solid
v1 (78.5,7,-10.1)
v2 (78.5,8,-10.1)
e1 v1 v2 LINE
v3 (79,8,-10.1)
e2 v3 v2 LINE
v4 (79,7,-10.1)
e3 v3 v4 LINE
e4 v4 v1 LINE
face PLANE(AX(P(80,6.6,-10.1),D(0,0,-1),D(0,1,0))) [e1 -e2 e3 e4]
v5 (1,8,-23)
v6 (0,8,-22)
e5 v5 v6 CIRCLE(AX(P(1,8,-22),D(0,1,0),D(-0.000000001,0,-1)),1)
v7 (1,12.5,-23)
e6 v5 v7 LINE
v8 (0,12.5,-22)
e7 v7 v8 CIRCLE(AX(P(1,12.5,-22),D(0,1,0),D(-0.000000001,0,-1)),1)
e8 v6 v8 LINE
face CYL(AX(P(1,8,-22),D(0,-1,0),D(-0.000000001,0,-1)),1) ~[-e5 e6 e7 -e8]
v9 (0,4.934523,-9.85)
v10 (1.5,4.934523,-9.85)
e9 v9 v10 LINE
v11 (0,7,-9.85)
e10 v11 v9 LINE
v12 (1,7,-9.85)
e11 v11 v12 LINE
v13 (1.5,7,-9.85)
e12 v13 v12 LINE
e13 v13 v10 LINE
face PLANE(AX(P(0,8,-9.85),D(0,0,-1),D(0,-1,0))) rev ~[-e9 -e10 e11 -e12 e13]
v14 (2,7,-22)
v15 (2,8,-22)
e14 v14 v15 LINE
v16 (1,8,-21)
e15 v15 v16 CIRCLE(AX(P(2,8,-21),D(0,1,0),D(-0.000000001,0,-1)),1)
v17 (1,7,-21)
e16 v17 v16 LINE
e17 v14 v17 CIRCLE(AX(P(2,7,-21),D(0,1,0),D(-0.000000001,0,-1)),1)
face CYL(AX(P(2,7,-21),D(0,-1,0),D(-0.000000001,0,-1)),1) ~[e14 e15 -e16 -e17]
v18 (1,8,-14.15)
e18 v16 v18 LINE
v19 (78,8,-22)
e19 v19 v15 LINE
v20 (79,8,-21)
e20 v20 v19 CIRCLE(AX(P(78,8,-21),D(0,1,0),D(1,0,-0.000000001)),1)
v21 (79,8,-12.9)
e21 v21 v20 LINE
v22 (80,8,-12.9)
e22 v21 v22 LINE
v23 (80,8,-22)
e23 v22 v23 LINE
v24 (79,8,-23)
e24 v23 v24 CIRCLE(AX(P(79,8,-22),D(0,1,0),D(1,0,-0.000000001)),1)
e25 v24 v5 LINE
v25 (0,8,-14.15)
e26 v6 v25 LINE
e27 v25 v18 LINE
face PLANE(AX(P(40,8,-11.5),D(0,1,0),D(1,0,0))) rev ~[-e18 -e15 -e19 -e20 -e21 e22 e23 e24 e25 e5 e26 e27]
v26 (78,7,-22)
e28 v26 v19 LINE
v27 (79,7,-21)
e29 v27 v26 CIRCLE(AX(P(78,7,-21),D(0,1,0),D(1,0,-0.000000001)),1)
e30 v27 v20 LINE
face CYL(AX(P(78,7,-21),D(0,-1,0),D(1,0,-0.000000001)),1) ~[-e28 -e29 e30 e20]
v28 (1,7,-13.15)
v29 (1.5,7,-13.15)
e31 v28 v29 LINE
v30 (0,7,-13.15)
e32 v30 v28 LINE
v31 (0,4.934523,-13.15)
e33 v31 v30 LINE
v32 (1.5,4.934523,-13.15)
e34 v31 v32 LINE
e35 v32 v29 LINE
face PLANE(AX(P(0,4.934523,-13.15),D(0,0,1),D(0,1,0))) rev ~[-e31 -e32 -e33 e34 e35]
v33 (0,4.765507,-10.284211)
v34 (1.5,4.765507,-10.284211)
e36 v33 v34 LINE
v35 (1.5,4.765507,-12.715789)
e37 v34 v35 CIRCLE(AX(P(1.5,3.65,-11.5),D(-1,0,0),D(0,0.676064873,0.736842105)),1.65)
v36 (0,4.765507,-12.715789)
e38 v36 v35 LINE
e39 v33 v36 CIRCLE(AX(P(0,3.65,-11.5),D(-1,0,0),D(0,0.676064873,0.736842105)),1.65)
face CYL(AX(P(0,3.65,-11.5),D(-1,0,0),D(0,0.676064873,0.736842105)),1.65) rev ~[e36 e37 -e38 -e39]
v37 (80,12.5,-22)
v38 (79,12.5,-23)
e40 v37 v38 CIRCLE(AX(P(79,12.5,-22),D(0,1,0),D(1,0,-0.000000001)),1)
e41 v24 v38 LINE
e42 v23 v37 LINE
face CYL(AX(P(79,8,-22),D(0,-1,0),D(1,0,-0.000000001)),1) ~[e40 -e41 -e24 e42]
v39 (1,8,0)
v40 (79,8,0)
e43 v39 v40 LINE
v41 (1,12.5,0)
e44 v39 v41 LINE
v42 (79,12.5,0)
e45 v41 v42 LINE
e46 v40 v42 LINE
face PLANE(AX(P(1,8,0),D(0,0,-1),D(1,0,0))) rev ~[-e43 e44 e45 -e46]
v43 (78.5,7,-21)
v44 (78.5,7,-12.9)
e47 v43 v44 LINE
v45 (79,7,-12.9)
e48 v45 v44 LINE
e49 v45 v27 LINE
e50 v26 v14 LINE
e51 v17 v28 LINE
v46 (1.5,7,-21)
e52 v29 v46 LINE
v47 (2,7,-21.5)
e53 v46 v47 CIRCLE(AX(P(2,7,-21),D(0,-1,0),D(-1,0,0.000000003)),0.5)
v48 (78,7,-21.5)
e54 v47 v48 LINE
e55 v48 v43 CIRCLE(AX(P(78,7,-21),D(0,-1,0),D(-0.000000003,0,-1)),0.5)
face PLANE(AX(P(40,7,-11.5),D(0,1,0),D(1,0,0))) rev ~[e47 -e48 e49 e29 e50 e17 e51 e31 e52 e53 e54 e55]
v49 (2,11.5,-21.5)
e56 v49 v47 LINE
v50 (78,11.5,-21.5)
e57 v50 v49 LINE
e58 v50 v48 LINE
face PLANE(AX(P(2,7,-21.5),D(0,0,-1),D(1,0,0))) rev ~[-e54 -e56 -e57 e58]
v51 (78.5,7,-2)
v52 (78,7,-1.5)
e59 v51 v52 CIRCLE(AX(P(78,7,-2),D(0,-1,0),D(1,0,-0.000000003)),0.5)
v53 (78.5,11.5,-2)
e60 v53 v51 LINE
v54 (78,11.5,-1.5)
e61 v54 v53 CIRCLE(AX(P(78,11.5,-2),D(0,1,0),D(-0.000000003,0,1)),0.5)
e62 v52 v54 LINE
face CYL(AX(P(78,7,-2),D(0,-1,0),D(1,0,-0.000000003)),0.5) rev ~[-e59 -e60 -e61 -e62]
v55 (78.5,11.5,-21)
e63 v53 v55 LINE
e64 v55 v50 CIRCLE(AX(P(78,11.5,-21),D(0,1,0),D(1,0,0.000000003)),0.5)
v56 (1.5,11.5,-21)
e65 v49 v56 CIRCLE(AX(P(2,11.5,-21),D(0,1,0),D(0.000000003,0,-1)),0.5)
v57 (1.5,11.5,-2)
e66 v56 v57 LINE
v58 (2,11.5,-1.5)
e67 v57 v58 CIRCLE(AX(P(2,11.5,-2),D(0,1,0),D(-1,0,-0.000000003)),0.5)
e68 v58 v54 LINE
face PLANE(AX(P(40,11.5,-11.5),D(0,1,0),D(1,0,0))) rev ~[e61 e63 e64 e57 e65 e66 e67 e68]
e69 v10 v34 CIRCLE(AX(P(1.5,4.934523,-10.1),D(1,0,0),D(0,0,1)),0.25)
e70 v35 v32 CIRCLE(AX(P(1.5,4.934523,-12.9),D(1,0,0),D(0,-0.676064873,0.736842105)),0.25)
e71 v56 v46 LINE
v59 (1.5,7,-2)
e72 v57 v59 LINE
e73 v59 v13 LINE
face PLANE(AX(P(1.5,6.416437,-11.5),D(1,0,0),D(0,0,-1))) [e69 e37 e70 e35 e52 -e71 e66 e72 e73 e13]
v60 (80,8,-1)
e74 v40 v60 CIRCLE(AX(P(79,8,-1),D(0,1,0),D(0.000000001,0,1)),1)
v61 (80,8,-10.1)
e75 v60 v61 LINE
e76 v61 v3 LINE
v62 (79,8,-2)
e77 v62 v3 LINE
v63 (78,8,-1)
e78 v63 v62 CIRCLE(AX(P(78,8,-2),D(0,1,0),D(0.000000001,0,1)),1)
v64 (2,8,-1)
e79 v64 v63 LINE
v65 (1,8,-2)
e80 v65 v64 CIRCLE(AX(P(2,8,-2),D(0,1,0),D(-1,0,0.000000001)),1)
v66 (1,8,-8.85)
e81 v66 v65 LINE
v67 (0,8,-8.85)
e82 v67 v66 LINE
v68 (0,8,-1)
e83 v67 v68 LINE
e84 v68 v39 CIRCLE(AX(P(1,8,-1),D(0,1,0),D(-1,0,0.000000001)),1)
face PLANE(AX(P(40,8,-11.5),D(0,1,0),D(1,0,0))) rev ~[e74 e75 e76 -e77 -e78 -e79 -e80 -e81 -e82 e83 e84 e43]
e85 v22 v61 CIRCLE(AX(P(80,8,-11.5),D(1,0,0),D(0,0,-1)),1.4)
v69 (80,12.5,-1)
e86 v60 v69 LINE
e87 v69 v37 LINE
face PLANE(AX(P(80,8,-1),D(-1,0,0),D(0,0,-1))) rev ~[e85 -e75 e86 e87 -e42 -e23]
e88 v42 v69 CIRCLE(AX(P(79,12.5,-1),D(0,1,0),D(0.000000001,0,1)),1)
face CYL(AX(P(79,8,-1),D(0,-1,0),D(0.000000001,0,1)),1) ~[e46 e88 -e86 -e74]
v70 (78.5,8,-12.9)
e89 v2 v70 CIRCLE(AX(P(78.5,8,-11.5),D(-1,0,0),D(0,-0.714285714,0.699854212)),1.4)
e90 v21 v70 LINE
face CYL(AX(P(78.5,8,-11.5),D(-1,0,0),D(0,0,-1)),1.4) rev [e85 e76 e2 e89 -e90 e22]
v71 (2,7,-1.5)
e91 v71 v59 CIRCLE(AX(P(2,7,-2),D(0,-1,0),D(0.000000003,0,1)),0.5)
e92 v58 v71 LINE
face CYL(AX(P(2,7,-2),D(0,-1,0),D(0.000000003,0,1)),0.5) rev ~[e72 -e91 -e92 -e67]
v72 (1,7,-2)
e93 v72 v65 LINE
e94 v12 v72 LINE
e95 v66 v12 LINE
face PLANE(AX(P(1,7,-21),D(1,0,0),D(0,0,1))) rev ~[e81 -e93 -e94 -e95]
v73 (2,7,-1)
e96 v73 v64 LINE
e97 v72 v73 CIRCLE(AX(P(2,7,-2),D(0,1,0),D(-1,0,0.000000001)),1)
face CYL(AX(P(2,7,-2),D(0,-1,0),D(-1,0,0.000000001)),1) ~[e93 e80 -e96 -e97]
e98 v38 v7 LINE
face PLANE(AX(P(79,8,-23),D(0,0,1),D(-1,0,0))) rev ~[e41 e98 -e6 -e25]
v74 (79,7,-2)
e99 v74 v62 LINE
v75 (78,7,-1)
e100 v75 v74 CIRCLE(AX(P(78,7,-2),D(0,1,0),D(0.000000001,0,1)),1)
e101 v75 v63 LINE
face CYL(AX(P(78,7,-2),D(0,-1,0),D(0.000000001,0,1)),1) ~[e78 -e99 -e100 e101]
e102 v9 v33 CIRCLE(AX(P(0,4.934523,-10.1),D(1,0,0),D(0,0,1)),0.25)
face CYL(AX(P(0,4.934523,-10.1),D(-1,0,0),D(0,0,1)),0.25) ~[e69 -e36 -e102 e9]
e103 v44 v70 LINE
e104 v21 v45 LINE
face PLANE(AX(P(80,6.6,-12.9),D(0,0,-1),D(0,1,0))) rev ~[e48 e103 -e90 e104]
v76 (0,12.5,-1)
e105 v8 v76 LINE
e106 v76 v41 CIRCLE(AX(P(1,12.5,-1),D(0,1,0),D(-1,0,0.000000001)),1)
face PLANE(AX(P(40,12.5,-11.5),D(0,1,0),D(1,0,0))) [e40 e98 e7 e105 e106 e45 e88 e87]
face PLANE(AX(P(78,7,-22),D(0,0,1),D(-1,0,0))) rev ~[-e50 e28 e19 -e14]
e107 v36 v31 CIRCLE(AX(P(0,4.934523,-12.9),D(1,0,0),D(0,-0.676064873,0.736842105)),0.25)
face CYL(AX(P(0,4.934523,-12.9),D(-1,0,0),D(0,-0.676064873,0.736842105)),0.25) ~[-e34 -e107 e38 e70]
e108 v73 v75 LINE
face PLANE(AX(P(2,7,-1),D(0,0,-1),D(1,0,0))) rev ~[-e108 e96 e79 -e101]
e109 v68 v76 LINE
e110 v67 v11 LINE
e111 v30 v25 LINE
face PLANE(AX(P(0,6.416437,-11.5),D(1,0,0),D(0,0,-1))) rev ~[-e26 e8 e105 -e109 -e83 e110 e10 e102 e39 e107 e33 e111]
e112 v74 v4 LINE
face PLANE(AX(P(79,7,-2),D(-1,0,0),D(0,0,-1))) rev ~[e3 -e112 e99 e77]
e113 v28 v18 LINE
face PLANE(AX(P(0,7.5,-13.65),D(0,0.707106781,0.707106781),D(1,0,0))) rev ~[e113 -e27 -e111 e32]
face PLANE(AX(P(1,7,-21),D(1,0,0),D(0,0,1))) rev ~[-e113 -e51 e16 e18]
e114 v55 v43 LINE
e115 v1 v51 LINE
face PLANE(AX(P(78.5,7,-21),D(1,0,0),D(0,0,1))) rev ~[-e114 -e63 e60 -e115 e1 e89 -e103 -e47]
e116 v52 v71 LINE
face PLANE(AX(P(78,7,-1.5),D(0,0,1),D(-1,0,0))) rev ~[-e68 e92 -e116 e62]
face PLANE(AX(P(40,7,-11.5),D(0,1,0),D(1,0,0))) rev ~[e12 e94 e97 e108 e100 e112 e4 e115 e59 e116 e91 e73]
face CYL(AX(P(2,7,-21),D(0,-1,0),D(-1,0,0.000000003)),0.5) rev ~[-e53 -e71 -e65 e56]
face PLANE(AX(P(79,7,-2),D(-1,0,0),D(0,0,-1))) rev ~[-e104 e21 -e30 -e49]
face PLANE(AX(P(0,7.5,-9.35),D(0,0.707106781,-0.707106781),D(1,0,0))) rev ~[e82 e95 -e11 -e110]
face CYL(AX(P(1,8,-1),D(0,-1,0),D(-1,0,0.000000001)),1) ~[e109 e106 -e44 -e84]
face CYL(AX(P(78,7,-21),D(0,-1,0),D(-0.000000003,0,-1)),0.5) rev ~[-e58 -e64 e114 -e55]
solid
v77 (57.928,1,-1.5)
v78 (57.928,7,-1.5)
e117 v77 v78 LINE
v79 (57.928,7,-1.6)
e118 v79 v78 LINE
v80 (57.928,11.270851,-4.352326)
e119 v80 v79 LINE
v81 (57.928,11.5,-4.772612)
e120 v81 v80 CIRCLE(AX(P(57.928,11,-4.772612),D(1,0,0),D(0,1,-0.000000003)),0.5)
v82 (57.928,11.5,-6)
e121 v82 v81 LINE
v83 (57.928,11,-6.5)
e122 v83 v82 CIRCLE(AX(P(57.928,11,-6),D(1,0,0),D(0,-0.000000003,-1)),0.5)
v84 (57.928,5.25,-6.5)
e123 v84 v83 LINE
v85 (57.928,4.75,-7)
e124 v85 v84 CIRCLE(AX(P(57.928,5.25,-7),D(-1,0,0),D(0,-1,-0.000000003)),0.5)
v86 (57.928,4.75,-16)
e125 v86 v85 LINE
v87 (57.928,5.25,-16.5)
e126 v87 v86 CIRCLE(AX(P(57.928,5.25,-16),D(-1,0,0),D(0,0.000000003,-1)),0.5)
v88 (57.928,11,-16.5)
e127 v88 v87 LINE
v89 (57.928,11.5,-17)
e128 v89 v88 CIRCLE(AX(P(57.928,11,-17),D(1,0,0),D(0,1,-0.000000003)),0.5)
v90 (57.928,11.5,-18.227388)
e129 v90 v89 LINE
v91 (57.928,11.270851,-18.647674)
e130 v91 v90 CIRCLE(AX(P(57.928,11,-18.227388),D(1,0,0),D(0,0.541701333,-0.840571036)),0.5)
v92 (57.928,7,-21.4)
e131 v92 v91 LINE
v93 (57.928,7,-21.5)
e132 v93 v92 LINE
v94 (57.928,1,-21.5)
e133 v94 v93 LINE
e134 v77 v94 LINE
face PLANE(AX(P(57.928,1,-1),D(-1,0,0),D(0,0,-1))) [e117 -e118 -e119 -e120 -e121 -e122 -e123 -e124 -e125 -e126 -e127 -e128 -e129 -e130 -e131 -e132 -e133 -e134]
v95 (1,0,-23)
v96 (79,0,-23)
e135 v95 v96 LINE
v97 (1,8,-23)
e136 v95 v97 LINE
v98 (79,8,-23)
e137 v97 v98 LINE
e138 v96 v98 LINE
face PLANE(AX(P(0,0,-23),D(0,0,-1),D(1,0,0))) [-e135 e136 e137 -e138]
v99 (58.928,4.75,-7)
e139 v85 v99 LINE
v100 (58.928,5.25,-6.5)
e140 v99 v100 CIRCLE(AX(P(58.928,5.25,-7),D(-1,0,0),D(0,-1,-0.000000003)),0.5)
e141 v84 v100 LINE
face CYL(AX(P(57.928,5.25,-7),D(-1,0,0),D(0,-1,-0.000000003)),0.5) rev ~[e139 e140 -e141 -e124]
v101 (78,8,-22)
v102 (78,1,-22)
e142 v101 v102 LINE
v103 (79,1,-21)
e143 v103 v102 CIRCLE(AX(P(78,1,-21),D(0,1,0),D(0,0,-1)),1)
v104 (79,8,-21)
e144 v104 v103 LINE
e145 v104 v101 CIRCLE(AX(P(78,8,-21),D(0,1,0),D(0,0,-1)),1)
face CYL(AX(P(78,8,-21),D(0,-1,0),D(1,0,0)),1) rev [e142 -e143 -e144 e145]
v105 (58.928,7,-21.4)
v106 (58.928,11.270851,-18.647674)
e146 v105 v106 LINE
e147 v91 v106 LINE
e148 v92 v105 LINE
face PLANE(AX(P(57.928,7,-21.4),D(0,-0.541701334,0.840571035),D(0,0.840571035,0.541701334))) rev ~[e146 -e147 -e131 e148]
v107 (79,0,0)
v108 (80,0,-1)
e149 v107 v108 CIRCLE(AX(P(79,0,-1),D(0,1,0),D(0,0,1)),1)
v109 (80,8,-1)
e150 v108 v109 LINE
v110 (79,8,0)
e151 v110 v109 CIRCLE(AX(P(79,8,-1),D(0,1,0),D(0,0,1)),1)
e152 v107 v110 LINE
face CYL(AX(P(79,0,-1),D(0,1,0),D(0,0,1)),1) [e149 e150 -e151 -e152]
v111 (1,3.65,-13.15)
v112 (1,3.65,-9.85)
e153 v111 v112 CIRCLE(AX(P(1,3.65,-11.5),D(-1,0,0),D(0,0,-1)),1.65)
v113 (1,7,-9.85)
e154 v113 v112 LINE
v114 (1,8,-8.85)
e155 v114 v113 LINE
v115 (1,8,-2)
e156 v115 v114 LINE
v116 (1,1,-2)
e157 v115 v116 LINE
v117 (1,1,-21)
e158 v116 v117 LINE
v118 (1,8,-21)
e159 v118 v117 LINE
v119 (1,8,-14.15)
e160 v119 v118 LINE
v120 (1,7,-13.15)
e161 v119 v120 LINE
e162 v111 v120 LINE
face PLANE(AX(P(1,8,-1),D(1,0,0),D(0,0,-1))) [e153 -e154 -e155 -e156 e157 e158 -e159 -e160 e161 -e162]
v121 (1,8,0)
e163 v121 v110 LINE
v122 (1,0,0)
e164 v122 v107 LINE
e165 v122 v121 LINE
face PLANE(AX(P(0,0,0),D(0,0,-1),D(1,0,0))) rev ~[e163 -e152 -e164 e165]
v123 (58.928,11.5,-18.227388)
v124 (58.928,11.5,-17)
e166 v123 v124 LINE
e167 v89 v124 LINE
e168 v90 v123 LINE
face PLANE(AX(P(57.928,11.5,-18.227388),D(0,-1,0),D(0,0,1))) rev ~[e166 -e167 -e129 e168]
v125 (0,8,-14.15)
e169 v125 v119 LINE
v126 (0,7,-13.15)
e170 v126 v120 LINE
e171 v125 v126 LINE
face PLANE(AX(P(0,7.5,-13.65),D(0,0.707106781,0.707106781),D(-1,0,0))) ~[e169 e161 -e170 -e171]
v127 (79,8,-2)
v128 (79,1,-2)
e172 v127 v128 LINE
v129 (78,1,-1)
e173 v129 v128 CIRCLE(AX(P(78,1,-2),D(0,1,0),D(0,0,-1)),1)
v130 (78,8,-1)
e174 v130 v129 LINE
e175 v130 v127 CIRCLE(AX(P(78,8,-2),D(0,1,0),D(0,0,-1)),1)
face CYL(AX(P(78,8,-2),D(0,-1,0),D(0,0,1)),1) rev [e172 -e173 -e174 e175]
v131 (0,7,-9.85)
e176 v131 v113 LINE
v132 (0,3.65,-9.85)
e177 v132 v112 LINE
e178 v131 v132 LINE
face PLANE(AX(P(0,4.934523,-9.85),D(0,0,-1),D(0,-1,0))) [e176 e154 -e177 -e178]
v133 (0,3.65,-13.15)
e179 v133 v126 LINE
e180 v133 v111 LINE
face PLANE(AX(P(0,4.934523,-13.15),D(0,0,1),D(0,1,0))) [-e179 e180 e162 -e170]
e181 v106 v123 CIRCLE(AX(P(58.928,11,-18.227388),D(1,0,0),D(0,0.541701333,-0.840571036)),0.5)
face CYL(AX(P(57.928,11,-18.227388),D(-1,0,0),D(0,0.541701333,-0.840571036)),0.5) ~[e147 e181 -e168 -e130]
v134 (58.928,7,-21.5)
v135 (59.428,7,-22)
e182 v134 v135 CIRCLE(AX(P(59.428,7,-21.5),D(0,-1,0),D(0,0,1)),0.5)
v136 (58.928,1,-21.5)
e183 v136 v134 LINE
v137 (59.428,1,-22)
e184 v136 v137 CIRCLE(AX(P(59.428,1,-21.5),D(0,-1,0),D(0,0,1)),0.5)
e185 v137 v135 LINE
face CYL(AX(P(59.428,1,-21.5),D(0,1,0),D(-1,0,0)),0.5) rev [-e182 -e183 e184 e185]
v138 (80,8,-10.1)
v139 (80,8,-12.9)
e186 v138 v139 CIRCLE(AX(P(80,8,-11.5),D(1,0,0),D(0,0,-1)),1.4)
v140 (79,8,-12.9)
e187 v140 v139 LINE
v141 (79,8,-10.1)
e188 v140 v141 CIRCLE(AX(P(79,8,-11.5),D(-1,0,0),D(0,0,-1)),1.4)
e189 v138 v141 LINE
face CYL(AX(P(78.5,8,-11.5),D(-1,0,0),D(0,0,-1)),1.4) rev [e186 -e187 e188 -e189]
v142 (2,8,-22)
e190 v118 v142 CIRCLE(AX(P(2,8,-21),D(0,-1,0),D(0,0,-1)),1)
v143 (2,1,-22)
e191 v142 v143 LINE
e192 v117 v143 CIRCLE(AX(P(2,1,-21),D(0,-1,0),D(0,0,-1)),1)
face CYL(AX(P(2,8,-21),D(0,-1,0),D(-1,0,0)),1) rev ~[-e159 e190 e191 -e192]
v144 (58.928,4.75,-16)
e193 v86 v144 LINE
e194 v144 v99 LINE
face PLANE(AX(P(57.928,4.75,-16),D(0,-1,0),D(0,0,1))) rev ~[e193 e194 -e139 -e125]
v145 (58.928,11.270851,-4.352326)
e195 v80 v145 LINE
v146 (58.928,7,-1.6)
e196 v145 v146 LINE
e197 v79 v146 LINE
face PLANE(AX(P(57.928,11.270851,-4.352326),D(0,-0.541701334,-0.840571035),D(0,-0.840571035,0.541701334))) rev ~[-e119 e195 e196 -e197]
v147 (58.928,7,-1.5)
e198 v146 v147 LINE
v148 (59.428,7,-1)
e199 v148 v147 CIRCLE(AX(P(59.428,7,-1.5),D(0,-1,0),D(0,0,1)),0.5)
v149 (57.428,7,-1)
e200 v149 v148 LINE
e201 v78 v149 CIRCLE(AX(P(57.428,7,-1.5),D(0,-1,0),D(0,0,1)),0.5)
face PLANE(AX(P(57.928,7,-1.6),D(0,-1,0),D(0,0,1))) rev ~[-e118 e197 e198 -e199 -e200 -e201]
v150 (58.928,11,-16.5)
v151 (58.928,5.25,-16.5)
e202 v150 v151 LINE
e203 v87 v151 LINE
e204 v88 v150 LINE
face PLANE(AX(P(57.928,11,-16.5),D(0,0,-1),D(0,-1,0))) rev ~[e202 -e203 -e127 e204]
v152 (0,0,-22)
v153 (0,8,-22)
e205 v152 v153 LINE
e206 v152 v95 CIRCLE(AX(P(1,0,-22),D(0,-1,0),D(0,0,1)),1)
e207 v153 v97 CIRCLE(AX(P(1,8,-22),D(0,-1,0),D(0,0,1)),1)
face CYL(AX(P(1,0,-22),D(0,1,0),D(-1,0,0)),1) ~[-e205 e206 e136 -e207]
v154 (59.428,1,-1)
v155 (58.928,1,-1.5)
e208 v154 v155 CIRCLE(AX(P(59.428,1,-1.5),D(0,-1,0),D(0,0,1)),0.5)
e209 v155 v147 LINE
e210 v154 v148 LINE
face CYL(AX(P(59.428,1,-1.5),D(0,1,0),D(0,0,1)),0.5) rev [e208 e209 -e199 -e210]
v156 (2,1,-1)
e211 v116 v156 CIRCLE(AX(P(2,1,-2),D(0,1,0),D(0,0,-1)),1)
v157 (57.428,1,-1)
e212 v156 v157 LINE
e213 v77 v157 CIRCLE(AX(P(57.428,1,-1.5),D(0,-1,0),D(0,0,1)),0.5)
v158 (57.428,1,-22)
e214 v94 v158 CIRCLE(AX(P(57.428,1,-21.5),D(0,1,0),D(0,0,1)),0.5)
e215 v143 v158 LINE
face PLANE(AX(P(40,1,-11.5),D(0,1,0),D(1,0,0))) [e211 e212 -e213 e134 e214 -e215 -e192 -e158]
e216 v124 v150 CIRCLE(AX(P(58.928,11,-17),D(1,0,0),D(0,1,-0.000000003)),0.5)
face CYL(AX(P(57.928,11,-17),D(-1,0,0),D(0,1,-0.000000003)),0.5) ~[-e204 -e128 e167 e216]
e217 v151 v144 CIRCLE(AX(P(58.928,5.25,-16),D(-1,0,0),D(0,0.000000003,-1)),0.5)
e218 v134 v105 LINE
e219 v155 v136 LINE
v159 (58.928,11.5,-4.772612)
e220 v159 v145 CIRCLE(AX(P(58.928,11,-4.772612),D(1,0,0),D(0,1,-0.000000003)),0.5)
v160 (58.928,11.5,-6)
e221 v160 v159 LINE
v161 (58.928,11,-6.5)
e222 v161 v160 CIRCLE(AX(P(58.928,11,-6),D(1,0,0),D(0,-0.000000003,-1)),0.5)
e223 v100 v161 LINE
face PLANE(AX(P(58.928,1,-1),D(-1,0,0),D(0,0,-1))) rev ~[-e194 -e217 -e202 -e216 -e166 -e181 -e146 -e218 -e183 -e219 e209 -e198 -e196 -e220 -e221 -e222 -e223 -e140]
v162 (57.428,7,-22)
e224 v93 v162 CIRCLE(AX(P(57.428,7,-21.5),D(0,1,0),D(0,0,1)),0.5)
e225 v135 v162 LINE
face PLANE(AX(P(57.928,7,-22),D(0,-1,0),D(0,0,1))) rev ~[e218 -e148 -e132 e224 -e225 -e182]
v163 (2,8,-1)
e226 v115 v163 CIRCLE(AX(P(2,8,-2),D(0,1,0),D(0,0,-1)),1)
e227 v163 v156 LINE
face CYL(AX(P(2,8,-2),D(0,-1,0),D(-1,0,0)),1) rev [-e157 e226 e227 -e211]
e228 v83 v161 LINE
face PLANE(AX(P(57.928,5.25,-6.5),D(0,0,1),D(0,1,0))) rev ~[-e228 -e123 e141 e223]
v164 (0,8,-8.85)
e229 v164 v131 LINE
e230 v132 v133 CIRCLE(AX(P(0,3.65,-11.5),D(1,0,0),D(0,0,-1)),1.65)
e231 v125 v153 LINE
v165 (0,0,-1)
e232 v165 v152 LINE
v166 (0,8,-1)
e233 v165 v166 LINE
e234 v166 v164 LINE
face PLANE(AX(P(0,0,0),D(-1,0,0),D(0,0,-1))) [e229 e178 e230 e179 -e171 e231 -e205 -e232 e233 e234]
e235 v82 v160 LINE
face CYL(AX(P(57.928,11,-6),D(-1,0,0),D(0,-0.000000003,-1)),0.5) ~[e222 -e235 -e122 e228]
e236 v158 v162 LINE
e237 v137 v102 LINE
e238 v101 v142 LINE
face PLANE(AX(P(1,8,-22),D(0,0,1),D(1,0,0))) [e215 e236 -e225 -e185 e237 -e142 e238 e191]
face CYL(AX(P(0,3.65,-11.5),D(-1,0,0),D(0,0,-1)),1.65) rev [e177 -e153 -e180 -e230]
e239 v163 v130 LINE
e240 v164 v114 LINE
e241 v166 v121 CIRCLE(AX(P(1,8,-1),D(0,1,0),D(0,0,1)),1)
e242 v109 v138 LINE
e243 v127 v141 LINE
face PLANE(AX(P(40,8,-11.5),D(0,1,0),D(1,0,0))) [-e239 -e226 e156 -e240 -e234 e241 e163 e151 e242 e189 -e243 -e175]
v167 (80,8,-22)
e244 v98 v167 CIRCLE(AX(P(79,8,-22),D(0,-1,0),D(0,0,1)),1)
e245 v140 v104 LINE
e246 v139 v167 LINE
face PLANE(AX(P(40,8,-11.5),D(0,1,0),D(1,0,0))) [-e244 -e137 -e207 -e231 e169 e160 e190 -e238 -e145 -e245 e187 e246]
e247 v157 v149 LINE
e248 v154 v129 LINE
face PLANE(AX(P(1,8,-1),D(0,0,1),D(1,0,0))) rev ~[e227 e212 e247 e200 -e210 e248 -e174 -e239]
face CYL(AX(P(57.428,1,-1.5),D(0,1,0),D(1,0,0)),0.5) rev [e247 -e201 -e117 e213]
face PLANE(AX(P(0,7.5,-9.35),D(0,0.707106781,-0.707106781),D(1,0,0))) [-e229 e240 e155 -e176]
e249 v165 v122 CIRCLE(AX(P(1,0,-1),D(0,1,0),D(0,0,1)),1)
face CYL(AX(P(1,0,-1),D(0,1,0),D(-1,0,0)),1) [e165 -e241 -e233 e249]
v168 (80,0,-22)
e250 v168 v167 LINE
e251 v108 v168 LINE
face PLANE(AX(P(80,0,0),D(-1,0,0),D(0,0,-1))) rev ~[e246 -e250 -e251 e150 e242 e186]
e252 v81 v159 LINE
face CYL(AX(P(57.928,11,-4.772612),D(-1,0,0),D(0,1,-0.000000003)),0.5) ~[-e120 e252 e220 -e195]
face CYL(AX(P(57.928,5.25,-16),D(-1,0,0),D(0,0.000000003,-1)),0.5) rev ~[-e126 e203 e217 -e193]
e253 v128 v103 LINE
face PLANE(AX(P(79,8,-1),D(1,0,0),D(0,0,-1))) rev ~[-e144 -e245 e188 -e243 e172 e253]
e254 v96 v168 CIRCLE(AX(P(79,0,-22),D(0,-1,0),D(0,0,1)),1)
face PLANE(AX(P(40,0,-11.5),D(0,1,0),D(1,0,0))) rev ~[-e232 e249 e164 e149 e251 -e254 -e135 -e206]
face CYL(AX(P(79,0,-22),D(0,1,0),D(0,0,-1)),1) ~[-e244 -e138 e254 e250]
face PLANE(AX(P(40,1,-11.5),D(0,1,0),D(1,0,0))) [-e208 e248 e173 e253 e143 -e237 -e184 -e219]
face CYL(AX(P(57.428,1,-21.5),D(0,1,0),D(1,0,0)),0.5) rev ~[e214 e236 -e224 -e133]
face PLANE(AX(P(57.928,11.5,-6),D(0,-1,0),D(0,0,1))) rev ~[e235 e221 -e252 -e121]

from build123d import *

# Parameters (mm, degrees)
SKETCH1_W           = 80
SKETCH1_H           = 23
BOSS_EXTRUDE1_DEPTH = 8
SKETCH2_W           = 78
SKETCH2_H           = 21
CUT_EXTRUDE1_DEPTH  = 7
CUT_EXTRUDE2_REACH  = 85.624
FILLET1_R           = 1
BOSS_EXTRUDE3_DEPTH = 4.5
CUT_EXTRUDE4_DEPTH  = 3.5
BOSS_EXTRUDE4_START = -1
BOSS_EXTRUDE4_DEPTH = 1
CUT_EXTRUDE3_START  = -1.5
SKETCH4_R           = 1.4
CUT_EXTRUDE3_DEPTH  = 1.5
BOSS_EXTRUDE5_DEPTH = 1.5
SKETCH4_3_W         = 2.8
SKETCH4_3_H         = 1.4
CUT_EXTRUDE19_DEPTH = 1.5
CHAMFER2_SIZE       = 1
CHAMFER3_SIZE       = 1
SKETCH7_W           = 1
SKETCH7_H           = 21
BOSS_EXTRUDE6_DEPTH = 10.5
CUT_EXTRUDE20_DEPTH = 1
FILLET2_R           = 0.5


with BuildPart() as part:
    # Sketch1 → Boss-Extrude1 (new body)
    with BuildSketch(Plane(origin=(0, 0, 0), x_dir=(1, 0, 0), z_dir=(0, 1, 0))):
        with Locations((40, 11.5)):
            Rectangle(SKETCH1_W, SKETCH1_H)
    extrude(amount=BOSS_EXTRUDE1_DEPTH)

    # Sketch2 → Cut-Extrude1 (cut)
    with BuildSketch(Plane(origin=(0, 8, 0), x_dir=(1, 0, 0), z_dir=(0, 1, 0))):
        with Locations((40, 11.5)):
            Rectangle(SKETCH2_W, SKETCH2_H)
    extrude(amount=-CUT_EXTRUDE1_DEPTH, mode=Mode.SUBTRACT)

    # Sketch3 → Cut-Extrude2 (cut, up to next)
    with BuildSketch(Plane(origin=(0, 0, 0), x_dir=(0, 0, -1), z_dir=(1, 0, 0)), mode=Mode.PRIVATE) as cut_extrude2_sk1:
        with BuildLine():
            ThreePointArc((12.715789474, 4.76550704), (12.990684531, 4.701550479), (13.15, 4.934523258))
            Line((13.15, 4.934523258), (13.15, 8))
            Line((13.15, 8), (9.85, 8))
            Line((9.85, 8), (9.85, 4.934523258))
            ThreePointArc((9.85, 4.934523258), (10.009315469, 4.701550479), (10.284210526, 4.76550704))
            ThreePointArc((10.284210526, 4.76550704), (11.5, 5.3), (12.715789474, 4.76550704))
        make_face()
    cut_extrude2_tool1 = extrude(cut_extrude2_sk1.sketch, amount=CUT_EXTRUDE2_REACH, mode=Mode.PRIVATE) & part.part
    # Sketch3 → Cut-Extrude2 (cut, up to next)
    with BuildSketch(Plane(origin=(0, 0, 0), x_dir=(0, 0, -1), z_dir=(1, 0, 0)), mode=Mode.PRIVATE) as cut_extrude2_sk2:
        with BuildLine():
            ThreePointArc((12.715789474, 4.76550704), (13.037620342, 4.248517906), (13.15, 3.65))
            Line((13.15, 3.65), (13.15, 4.934523258))
            ThreePointArc((13.15, 4.934523258), (12.990684531, 4.701550479), (12.715789474, 4.76550704))
        make_face()
    cut_extrude2_tool2 = extrude(cut_extrude2_sk2.sketch, amount=CUT_EXTRUDE2_REACH, mode=Mode.PRIVATE) & part.part
    # Sketch3 → Cut-Extrude2 (cut, up to next)
    with BuildSketch(Plane(origin=(0, 0, 0), x_dir=(0, 0, -1), z_dir=(1, 0, 0)), mode=Mode.PRIVATE) as cut_extrude2_sk3:
        with BuildLine():
            Line((9.85, 4.934523258), (9.85, 3.65))
            ThreePointArc((9.85, 3.65), (9.962379658, 4.248517906), (10.284210526, 4.76550704))
            ThreePointArc((10.284210526, 4.76550704), (10.009315469, 4.701550479), (9.85, 4.934523258))
        make_face()
    cut_extrude2_tool3 = extrude(cut_extrude2_sk3.sketch, amount=CUT_EXTRUDE2_REACH, mode=Mode.PRIVATE) & part.part
    # Sketch3 → Cut-Extrude2 (cut, up to next)
    with BuildSketch(Plane(origin=(0, 0, 0), x_dir=(0, 0, -1), z_dir=(1, 0, 0)), mode=Mode.PRIVATE) as cut_extrude2_sk4:
        with BuildLine():
            ThreePointArc((9.85, 3.65), (11.5, 2), (13.15, 3.65))
            ThreePointArc((13.15, 3.65), (11.5, 5.3), (9.85, 3.65))
        make_face()
    cut_extrude2_tool4 = extrude(cut_extrude2_sk4.sketch, amount=CUT_EXTRUDE2_REACH, mode=Mode.PRIVATE) & part.part
    add(cut_extrude2_tool1.solids().sort_by_distance((0, 6.505264, -11.5))[0], mode=Mode.SUBTRACT)
    add(cut_extrude2_tool2.solids().sort_by_distance((0, 4.466098, -13.044987))[0], mode=Mode.SUBTRACT)
    add(cut_extrude2_tool3.solids().sort_by_distance((0, 4.466098, -9.955013))[0], mode=Mode.SUBTRACT)
    add(cut_extrude2_tool4.solids().sort_by_distance((0, 3.65, -11.5))[0], mode=Mode.SUBTRACT)

    # Fillet1
    fillet1_edges = [part.edges().sort_by_distance(p)[0] for p in [
        (79, 4.5, -1),
        (1, 4.5, -1),
        (1, 4.5, -22),
        (79, 4.5, -22),
        (0, 4, -23),
        (80, 4, -23),
        (80, 4, 0),
        (0, 4, 0),
    ]]
    fillet(fillet1_edges, radius=FILLET1_R)


with BuildPart() as body_2:
    # Sketch6 → Boss-Extrude3 (new body)
    with BuildSketch(Plane(origin=(0, 8, 0), x_dir=(1, 0, 0), z_dir=(0, 1, 0))):
        with BuildLine():
            ThreePointArc((79, 0), (79.707106781, 0.292893219), (80, 1))
            Line((80, 1), (80, 22))
            ThreePointArc((80, 22), (79.707106781, 22.707106781), (79, 23))
            Line((79, 23), (1, 23))
            ThreePointArc((1, 23), (0.292893219, 22.707106781), (0, 22))
            Line((0, 22), (0, 1))
            ThreePointArc((0, 1), (0.292893219, 0.292893219), (1, 0))
            Line((1, 0), (79, 0))
        make_face()
    extrude(amount=BOSS_EXTRUDE3_DEPTH)

    # Sketch6<3> → Cut-Extrude4 (cut)
    with BuildSketch(Plane(origin=(0, 8, 0), x_dir=(1, 0, 0), z_dir=(0, 1, 0))):
        with BuildLine():
            Line((1.5, 21), (1.5, 2))
            ThreePointArc((1.5, 2), (1.646446609, 1.646446609), (2, 1.5))
            Line((2, 1.5), (78, 1.5))
            ThreePointArc((78, 1.5), (78.353553391, 1.646446609), (78.5, 2))
            Line((78.5, 2), (78.5, 21))
            ThreePointArc((78.5, 21), (78.353553391, 21.353553391), (78, 21.5))
            Line((78, 21.5), (2, 21.5))
            ThreePointArc((2, 21.5), (1.646446609, 21.353553391), (1.5, 21))
        make_face()
    extrude(amount=CUT_EXTRUDE4_DEPTH, mode=Mode.SUBTRACT)

    # Sketch6<4> → Boss-Extrude4 (add)
    with BuildSketch(Plane(origin=(0, 8, 0), x_dir=(1, 0, 0), z_dir=(0, 1, 0)).offset(BOSS_EXTRUDE4_START)):
        with BuildLine():
            ThreePointArc((1, 2), (1.292893219, 1.292893219), (2, 1))
            Line((2, 1), (78, 1))
            ThreePointArc((78, 1), (78.707106781, 1.292893219), (79, 2))
            Line((79, 2), (79, 21))
            ThreePointArc((79, 21), (78.707106781, 21.707106781), (78, 22))
            Line((78, 22), (2, 22))
            ThreePointArc((2, 22), (1.292893219, 21.707106781), (1, 21))
            Line((1, 21), (1, 13.15))
            Line((1, 13.15), (1, 9.85))
            Line((1, 9.85), (1, 2))
        make_face()
        with BuildLine():
            Line((78, 1.5), (2, 1.5))
            ThreePointArc((2, 1.5), (1.646446609, 1.646446609), (1.5, 2))
            Line((1.5, 2), (1.5, 21))
            ThreePointArc((1.5, 21), (1.646446609, 21.353553391), (2, 21.5))
            Line((2, 21.5), (78, 21.5))
            ThreePointArc((78, 21.5), (78.353553391, 21.353553391), (78.5, 21))
            Line((78.5, 21), (78.5, 2))
            ThreePointArc((78.5, 2), (78.353553391, 1.646446609), (78, 1.5))
        make_face(mode=Mode.SUBTRACT)
    extrude(amount=BOSS_EXTRUDE4_DEPTH)


with BuildPart() as cut_extrude3_tool:
    # Sketch4 → Cut-Extrude3 (new body)
    with BuildSketch(Plane(origin=(80, 0, 0), x_dir=(0, 0, -1), z_dir=(1, 0, 0)).offset(CUT_EXTRUDE3_START)):
        with Locations((11.5, 8)):
            Circle(SKETCH4_R)
    extrude(amount=CUT_EXTRUDE3_DEPTH)


with BuildPart() as part_1:
    add(part.part)

    # Cut-Extrude3: cut by cut_extrude3_tool
    add(cut_extrude3_tool.part, mode=Mode.SUBTRACT)

    # Chamfer2
    chamfer2_edges = [part_1.edges().sort_by_distance(p)[0] for p in [
        (0.5, 8, -9.85),
        (0.5, 8, -13.15),
    ]]
    chamfer(chamfer2_edges, length=CHAMFER2_SIZE)

    # Sketch7 → Boss-Extrude6 (add)
    with BuildSketch(Plane(origin=(0, 1, 0), x_dir=(1, 0, 0), z_dir=(0, 1, 0))):
        with Locations((58.428, 11.5)):
            Rectangle(SKETCH7_W, SKETCH7_H)
    extrude(amount=BOSS_EXTRUDE6_DEPTH)

    # Sketch8 → Cut-Extrude20 (cut)
    with BuildSketch(Plane.ZY.offset(-57.928)):
        with BuildLine():
            Line((-16, 4.75), (-7, 4.75))
            ThreePointArc((-7, 4.75), (-6.646446609, 4.896446609), (-6.5, 5.25))
            Line((-6.5, 5.25), (-6.5, 11))
            ThreePointArc((-6.5, 11), (-6.353553391, 11.353553391), (-6, 11.5))
            Line((-6, 11.5), (-4.772611503, 11.5))
            ThreePointArc((-4.772611503, 11.5), (-4.533263778, 11.438990509), (-4.352325985, 11.270850667))
            Line((-4.352325985, 11.270850667), (-1.6, 7))
            Line((-1.6, 7), (-1, 7))
            Line((-1, 7), (-1, 13.527800593))
            Line((-1, 13.527800593), (-22, 13.527800593))
            Line((-22, 13.527800593), (-22, 11.5))
            Line((-22, 11.5), (-22, 7))
            Line((-22, 7), (-21.4, 7))
            Line((-21.4, 7), (-18.647674015, 11.270850667))
            ThreePointArc((-18.647674015, 11.270850667), (-18.466736222, 11.438990509), (-18.227388497, 11.5))
            Line((-18.227388497, 11.5), (-17, 11.5))
            ThreePointArc((-17, 11.5), (-16.646446609, 11.353553391), (-16.5, 11))
            Line((-16.5, 11), (-16.5, 5.25))
            ThreePointArc((-16.5, 5.25), (-16.353553391, 4.896446609), (-16, 4.75))
        make_face()
    extrude(amount=-CUT_EXTRUDE20_DEPTH, mode=Mode.SUBTRACT)

    # Fillet2
    fillet2_edges = [part_1.edges().sort_by_distance(p)[0] for p in [
        (57.928, 4, -1),
        (58.928, 4, -1),
        (57.928, 4, -22),
        (58.928, 4, -22),
    ]]
    fillet(fillet2_edges, radius=FILLET2_R)


with BuildPart() as body_2_1:
    add(body_2.part)

    # Cut-Extrude3: cut by cut_extrude3_tool
    add(cut_extrude3_tool.part, mode=Mode.SUBTRACT)

    # Sketch3<3> → Boss-Extrude5 (add)
    with BuildSketch(Plane(origin=(0, 0, 0), x_dir=(0, 0, -1), z_dir=(1, 0, 0))):
        with BuildLine():
            ThreePointArc((12.715789474, 4.76550704), (12.990684531, 4.701550479), (13.15, 4.934523258))
            Line((13.15, 4.934523258), (13.15, 8))
            Line((13.15, 8), (9.85, 8))
            Line((9.85, 8), (9.85, 4.934523258))
            ThreePointArc((9.85, 4.934523258), (10.009315469, 4.701550479), (10.284210526, 4.76550704))
            ThreePointArc((10.284210526, 4.76550704), (11.5, 5.3), (12.715789474, 4.76550704))
        make_face()
    extrude(amount=BOSS_EXTRUDE5_DEPTH)

    # Sketch4<3> → Cut-Extrude19 (cut)
    with BuildSketch(Plane(origin=(80, 0, 0), x_dir=(0, 0, -1), z_dir=(1, 0, 0))):
        with Locations((11.5, 7.3)):
            Rectangle(SKETCH4_3_W, SKETCH4_3_H)
    extrude(amount=-CUT_EXTRUDE19_DEPTH, mode=Mode.SUBTRACT)

    # Chamfer3
    chamfer3_edges = [body_2_1.edges().sort_by_distance(p)[0] for p in [
        (0.5, 8, -9.85),
        (0.5, 8, -13.15),
    ]]
    chamfer(chamfer3_edges, length=CHAMFER3_SIZE)


solid = Compound([part_1.part, body_2_1.part])
